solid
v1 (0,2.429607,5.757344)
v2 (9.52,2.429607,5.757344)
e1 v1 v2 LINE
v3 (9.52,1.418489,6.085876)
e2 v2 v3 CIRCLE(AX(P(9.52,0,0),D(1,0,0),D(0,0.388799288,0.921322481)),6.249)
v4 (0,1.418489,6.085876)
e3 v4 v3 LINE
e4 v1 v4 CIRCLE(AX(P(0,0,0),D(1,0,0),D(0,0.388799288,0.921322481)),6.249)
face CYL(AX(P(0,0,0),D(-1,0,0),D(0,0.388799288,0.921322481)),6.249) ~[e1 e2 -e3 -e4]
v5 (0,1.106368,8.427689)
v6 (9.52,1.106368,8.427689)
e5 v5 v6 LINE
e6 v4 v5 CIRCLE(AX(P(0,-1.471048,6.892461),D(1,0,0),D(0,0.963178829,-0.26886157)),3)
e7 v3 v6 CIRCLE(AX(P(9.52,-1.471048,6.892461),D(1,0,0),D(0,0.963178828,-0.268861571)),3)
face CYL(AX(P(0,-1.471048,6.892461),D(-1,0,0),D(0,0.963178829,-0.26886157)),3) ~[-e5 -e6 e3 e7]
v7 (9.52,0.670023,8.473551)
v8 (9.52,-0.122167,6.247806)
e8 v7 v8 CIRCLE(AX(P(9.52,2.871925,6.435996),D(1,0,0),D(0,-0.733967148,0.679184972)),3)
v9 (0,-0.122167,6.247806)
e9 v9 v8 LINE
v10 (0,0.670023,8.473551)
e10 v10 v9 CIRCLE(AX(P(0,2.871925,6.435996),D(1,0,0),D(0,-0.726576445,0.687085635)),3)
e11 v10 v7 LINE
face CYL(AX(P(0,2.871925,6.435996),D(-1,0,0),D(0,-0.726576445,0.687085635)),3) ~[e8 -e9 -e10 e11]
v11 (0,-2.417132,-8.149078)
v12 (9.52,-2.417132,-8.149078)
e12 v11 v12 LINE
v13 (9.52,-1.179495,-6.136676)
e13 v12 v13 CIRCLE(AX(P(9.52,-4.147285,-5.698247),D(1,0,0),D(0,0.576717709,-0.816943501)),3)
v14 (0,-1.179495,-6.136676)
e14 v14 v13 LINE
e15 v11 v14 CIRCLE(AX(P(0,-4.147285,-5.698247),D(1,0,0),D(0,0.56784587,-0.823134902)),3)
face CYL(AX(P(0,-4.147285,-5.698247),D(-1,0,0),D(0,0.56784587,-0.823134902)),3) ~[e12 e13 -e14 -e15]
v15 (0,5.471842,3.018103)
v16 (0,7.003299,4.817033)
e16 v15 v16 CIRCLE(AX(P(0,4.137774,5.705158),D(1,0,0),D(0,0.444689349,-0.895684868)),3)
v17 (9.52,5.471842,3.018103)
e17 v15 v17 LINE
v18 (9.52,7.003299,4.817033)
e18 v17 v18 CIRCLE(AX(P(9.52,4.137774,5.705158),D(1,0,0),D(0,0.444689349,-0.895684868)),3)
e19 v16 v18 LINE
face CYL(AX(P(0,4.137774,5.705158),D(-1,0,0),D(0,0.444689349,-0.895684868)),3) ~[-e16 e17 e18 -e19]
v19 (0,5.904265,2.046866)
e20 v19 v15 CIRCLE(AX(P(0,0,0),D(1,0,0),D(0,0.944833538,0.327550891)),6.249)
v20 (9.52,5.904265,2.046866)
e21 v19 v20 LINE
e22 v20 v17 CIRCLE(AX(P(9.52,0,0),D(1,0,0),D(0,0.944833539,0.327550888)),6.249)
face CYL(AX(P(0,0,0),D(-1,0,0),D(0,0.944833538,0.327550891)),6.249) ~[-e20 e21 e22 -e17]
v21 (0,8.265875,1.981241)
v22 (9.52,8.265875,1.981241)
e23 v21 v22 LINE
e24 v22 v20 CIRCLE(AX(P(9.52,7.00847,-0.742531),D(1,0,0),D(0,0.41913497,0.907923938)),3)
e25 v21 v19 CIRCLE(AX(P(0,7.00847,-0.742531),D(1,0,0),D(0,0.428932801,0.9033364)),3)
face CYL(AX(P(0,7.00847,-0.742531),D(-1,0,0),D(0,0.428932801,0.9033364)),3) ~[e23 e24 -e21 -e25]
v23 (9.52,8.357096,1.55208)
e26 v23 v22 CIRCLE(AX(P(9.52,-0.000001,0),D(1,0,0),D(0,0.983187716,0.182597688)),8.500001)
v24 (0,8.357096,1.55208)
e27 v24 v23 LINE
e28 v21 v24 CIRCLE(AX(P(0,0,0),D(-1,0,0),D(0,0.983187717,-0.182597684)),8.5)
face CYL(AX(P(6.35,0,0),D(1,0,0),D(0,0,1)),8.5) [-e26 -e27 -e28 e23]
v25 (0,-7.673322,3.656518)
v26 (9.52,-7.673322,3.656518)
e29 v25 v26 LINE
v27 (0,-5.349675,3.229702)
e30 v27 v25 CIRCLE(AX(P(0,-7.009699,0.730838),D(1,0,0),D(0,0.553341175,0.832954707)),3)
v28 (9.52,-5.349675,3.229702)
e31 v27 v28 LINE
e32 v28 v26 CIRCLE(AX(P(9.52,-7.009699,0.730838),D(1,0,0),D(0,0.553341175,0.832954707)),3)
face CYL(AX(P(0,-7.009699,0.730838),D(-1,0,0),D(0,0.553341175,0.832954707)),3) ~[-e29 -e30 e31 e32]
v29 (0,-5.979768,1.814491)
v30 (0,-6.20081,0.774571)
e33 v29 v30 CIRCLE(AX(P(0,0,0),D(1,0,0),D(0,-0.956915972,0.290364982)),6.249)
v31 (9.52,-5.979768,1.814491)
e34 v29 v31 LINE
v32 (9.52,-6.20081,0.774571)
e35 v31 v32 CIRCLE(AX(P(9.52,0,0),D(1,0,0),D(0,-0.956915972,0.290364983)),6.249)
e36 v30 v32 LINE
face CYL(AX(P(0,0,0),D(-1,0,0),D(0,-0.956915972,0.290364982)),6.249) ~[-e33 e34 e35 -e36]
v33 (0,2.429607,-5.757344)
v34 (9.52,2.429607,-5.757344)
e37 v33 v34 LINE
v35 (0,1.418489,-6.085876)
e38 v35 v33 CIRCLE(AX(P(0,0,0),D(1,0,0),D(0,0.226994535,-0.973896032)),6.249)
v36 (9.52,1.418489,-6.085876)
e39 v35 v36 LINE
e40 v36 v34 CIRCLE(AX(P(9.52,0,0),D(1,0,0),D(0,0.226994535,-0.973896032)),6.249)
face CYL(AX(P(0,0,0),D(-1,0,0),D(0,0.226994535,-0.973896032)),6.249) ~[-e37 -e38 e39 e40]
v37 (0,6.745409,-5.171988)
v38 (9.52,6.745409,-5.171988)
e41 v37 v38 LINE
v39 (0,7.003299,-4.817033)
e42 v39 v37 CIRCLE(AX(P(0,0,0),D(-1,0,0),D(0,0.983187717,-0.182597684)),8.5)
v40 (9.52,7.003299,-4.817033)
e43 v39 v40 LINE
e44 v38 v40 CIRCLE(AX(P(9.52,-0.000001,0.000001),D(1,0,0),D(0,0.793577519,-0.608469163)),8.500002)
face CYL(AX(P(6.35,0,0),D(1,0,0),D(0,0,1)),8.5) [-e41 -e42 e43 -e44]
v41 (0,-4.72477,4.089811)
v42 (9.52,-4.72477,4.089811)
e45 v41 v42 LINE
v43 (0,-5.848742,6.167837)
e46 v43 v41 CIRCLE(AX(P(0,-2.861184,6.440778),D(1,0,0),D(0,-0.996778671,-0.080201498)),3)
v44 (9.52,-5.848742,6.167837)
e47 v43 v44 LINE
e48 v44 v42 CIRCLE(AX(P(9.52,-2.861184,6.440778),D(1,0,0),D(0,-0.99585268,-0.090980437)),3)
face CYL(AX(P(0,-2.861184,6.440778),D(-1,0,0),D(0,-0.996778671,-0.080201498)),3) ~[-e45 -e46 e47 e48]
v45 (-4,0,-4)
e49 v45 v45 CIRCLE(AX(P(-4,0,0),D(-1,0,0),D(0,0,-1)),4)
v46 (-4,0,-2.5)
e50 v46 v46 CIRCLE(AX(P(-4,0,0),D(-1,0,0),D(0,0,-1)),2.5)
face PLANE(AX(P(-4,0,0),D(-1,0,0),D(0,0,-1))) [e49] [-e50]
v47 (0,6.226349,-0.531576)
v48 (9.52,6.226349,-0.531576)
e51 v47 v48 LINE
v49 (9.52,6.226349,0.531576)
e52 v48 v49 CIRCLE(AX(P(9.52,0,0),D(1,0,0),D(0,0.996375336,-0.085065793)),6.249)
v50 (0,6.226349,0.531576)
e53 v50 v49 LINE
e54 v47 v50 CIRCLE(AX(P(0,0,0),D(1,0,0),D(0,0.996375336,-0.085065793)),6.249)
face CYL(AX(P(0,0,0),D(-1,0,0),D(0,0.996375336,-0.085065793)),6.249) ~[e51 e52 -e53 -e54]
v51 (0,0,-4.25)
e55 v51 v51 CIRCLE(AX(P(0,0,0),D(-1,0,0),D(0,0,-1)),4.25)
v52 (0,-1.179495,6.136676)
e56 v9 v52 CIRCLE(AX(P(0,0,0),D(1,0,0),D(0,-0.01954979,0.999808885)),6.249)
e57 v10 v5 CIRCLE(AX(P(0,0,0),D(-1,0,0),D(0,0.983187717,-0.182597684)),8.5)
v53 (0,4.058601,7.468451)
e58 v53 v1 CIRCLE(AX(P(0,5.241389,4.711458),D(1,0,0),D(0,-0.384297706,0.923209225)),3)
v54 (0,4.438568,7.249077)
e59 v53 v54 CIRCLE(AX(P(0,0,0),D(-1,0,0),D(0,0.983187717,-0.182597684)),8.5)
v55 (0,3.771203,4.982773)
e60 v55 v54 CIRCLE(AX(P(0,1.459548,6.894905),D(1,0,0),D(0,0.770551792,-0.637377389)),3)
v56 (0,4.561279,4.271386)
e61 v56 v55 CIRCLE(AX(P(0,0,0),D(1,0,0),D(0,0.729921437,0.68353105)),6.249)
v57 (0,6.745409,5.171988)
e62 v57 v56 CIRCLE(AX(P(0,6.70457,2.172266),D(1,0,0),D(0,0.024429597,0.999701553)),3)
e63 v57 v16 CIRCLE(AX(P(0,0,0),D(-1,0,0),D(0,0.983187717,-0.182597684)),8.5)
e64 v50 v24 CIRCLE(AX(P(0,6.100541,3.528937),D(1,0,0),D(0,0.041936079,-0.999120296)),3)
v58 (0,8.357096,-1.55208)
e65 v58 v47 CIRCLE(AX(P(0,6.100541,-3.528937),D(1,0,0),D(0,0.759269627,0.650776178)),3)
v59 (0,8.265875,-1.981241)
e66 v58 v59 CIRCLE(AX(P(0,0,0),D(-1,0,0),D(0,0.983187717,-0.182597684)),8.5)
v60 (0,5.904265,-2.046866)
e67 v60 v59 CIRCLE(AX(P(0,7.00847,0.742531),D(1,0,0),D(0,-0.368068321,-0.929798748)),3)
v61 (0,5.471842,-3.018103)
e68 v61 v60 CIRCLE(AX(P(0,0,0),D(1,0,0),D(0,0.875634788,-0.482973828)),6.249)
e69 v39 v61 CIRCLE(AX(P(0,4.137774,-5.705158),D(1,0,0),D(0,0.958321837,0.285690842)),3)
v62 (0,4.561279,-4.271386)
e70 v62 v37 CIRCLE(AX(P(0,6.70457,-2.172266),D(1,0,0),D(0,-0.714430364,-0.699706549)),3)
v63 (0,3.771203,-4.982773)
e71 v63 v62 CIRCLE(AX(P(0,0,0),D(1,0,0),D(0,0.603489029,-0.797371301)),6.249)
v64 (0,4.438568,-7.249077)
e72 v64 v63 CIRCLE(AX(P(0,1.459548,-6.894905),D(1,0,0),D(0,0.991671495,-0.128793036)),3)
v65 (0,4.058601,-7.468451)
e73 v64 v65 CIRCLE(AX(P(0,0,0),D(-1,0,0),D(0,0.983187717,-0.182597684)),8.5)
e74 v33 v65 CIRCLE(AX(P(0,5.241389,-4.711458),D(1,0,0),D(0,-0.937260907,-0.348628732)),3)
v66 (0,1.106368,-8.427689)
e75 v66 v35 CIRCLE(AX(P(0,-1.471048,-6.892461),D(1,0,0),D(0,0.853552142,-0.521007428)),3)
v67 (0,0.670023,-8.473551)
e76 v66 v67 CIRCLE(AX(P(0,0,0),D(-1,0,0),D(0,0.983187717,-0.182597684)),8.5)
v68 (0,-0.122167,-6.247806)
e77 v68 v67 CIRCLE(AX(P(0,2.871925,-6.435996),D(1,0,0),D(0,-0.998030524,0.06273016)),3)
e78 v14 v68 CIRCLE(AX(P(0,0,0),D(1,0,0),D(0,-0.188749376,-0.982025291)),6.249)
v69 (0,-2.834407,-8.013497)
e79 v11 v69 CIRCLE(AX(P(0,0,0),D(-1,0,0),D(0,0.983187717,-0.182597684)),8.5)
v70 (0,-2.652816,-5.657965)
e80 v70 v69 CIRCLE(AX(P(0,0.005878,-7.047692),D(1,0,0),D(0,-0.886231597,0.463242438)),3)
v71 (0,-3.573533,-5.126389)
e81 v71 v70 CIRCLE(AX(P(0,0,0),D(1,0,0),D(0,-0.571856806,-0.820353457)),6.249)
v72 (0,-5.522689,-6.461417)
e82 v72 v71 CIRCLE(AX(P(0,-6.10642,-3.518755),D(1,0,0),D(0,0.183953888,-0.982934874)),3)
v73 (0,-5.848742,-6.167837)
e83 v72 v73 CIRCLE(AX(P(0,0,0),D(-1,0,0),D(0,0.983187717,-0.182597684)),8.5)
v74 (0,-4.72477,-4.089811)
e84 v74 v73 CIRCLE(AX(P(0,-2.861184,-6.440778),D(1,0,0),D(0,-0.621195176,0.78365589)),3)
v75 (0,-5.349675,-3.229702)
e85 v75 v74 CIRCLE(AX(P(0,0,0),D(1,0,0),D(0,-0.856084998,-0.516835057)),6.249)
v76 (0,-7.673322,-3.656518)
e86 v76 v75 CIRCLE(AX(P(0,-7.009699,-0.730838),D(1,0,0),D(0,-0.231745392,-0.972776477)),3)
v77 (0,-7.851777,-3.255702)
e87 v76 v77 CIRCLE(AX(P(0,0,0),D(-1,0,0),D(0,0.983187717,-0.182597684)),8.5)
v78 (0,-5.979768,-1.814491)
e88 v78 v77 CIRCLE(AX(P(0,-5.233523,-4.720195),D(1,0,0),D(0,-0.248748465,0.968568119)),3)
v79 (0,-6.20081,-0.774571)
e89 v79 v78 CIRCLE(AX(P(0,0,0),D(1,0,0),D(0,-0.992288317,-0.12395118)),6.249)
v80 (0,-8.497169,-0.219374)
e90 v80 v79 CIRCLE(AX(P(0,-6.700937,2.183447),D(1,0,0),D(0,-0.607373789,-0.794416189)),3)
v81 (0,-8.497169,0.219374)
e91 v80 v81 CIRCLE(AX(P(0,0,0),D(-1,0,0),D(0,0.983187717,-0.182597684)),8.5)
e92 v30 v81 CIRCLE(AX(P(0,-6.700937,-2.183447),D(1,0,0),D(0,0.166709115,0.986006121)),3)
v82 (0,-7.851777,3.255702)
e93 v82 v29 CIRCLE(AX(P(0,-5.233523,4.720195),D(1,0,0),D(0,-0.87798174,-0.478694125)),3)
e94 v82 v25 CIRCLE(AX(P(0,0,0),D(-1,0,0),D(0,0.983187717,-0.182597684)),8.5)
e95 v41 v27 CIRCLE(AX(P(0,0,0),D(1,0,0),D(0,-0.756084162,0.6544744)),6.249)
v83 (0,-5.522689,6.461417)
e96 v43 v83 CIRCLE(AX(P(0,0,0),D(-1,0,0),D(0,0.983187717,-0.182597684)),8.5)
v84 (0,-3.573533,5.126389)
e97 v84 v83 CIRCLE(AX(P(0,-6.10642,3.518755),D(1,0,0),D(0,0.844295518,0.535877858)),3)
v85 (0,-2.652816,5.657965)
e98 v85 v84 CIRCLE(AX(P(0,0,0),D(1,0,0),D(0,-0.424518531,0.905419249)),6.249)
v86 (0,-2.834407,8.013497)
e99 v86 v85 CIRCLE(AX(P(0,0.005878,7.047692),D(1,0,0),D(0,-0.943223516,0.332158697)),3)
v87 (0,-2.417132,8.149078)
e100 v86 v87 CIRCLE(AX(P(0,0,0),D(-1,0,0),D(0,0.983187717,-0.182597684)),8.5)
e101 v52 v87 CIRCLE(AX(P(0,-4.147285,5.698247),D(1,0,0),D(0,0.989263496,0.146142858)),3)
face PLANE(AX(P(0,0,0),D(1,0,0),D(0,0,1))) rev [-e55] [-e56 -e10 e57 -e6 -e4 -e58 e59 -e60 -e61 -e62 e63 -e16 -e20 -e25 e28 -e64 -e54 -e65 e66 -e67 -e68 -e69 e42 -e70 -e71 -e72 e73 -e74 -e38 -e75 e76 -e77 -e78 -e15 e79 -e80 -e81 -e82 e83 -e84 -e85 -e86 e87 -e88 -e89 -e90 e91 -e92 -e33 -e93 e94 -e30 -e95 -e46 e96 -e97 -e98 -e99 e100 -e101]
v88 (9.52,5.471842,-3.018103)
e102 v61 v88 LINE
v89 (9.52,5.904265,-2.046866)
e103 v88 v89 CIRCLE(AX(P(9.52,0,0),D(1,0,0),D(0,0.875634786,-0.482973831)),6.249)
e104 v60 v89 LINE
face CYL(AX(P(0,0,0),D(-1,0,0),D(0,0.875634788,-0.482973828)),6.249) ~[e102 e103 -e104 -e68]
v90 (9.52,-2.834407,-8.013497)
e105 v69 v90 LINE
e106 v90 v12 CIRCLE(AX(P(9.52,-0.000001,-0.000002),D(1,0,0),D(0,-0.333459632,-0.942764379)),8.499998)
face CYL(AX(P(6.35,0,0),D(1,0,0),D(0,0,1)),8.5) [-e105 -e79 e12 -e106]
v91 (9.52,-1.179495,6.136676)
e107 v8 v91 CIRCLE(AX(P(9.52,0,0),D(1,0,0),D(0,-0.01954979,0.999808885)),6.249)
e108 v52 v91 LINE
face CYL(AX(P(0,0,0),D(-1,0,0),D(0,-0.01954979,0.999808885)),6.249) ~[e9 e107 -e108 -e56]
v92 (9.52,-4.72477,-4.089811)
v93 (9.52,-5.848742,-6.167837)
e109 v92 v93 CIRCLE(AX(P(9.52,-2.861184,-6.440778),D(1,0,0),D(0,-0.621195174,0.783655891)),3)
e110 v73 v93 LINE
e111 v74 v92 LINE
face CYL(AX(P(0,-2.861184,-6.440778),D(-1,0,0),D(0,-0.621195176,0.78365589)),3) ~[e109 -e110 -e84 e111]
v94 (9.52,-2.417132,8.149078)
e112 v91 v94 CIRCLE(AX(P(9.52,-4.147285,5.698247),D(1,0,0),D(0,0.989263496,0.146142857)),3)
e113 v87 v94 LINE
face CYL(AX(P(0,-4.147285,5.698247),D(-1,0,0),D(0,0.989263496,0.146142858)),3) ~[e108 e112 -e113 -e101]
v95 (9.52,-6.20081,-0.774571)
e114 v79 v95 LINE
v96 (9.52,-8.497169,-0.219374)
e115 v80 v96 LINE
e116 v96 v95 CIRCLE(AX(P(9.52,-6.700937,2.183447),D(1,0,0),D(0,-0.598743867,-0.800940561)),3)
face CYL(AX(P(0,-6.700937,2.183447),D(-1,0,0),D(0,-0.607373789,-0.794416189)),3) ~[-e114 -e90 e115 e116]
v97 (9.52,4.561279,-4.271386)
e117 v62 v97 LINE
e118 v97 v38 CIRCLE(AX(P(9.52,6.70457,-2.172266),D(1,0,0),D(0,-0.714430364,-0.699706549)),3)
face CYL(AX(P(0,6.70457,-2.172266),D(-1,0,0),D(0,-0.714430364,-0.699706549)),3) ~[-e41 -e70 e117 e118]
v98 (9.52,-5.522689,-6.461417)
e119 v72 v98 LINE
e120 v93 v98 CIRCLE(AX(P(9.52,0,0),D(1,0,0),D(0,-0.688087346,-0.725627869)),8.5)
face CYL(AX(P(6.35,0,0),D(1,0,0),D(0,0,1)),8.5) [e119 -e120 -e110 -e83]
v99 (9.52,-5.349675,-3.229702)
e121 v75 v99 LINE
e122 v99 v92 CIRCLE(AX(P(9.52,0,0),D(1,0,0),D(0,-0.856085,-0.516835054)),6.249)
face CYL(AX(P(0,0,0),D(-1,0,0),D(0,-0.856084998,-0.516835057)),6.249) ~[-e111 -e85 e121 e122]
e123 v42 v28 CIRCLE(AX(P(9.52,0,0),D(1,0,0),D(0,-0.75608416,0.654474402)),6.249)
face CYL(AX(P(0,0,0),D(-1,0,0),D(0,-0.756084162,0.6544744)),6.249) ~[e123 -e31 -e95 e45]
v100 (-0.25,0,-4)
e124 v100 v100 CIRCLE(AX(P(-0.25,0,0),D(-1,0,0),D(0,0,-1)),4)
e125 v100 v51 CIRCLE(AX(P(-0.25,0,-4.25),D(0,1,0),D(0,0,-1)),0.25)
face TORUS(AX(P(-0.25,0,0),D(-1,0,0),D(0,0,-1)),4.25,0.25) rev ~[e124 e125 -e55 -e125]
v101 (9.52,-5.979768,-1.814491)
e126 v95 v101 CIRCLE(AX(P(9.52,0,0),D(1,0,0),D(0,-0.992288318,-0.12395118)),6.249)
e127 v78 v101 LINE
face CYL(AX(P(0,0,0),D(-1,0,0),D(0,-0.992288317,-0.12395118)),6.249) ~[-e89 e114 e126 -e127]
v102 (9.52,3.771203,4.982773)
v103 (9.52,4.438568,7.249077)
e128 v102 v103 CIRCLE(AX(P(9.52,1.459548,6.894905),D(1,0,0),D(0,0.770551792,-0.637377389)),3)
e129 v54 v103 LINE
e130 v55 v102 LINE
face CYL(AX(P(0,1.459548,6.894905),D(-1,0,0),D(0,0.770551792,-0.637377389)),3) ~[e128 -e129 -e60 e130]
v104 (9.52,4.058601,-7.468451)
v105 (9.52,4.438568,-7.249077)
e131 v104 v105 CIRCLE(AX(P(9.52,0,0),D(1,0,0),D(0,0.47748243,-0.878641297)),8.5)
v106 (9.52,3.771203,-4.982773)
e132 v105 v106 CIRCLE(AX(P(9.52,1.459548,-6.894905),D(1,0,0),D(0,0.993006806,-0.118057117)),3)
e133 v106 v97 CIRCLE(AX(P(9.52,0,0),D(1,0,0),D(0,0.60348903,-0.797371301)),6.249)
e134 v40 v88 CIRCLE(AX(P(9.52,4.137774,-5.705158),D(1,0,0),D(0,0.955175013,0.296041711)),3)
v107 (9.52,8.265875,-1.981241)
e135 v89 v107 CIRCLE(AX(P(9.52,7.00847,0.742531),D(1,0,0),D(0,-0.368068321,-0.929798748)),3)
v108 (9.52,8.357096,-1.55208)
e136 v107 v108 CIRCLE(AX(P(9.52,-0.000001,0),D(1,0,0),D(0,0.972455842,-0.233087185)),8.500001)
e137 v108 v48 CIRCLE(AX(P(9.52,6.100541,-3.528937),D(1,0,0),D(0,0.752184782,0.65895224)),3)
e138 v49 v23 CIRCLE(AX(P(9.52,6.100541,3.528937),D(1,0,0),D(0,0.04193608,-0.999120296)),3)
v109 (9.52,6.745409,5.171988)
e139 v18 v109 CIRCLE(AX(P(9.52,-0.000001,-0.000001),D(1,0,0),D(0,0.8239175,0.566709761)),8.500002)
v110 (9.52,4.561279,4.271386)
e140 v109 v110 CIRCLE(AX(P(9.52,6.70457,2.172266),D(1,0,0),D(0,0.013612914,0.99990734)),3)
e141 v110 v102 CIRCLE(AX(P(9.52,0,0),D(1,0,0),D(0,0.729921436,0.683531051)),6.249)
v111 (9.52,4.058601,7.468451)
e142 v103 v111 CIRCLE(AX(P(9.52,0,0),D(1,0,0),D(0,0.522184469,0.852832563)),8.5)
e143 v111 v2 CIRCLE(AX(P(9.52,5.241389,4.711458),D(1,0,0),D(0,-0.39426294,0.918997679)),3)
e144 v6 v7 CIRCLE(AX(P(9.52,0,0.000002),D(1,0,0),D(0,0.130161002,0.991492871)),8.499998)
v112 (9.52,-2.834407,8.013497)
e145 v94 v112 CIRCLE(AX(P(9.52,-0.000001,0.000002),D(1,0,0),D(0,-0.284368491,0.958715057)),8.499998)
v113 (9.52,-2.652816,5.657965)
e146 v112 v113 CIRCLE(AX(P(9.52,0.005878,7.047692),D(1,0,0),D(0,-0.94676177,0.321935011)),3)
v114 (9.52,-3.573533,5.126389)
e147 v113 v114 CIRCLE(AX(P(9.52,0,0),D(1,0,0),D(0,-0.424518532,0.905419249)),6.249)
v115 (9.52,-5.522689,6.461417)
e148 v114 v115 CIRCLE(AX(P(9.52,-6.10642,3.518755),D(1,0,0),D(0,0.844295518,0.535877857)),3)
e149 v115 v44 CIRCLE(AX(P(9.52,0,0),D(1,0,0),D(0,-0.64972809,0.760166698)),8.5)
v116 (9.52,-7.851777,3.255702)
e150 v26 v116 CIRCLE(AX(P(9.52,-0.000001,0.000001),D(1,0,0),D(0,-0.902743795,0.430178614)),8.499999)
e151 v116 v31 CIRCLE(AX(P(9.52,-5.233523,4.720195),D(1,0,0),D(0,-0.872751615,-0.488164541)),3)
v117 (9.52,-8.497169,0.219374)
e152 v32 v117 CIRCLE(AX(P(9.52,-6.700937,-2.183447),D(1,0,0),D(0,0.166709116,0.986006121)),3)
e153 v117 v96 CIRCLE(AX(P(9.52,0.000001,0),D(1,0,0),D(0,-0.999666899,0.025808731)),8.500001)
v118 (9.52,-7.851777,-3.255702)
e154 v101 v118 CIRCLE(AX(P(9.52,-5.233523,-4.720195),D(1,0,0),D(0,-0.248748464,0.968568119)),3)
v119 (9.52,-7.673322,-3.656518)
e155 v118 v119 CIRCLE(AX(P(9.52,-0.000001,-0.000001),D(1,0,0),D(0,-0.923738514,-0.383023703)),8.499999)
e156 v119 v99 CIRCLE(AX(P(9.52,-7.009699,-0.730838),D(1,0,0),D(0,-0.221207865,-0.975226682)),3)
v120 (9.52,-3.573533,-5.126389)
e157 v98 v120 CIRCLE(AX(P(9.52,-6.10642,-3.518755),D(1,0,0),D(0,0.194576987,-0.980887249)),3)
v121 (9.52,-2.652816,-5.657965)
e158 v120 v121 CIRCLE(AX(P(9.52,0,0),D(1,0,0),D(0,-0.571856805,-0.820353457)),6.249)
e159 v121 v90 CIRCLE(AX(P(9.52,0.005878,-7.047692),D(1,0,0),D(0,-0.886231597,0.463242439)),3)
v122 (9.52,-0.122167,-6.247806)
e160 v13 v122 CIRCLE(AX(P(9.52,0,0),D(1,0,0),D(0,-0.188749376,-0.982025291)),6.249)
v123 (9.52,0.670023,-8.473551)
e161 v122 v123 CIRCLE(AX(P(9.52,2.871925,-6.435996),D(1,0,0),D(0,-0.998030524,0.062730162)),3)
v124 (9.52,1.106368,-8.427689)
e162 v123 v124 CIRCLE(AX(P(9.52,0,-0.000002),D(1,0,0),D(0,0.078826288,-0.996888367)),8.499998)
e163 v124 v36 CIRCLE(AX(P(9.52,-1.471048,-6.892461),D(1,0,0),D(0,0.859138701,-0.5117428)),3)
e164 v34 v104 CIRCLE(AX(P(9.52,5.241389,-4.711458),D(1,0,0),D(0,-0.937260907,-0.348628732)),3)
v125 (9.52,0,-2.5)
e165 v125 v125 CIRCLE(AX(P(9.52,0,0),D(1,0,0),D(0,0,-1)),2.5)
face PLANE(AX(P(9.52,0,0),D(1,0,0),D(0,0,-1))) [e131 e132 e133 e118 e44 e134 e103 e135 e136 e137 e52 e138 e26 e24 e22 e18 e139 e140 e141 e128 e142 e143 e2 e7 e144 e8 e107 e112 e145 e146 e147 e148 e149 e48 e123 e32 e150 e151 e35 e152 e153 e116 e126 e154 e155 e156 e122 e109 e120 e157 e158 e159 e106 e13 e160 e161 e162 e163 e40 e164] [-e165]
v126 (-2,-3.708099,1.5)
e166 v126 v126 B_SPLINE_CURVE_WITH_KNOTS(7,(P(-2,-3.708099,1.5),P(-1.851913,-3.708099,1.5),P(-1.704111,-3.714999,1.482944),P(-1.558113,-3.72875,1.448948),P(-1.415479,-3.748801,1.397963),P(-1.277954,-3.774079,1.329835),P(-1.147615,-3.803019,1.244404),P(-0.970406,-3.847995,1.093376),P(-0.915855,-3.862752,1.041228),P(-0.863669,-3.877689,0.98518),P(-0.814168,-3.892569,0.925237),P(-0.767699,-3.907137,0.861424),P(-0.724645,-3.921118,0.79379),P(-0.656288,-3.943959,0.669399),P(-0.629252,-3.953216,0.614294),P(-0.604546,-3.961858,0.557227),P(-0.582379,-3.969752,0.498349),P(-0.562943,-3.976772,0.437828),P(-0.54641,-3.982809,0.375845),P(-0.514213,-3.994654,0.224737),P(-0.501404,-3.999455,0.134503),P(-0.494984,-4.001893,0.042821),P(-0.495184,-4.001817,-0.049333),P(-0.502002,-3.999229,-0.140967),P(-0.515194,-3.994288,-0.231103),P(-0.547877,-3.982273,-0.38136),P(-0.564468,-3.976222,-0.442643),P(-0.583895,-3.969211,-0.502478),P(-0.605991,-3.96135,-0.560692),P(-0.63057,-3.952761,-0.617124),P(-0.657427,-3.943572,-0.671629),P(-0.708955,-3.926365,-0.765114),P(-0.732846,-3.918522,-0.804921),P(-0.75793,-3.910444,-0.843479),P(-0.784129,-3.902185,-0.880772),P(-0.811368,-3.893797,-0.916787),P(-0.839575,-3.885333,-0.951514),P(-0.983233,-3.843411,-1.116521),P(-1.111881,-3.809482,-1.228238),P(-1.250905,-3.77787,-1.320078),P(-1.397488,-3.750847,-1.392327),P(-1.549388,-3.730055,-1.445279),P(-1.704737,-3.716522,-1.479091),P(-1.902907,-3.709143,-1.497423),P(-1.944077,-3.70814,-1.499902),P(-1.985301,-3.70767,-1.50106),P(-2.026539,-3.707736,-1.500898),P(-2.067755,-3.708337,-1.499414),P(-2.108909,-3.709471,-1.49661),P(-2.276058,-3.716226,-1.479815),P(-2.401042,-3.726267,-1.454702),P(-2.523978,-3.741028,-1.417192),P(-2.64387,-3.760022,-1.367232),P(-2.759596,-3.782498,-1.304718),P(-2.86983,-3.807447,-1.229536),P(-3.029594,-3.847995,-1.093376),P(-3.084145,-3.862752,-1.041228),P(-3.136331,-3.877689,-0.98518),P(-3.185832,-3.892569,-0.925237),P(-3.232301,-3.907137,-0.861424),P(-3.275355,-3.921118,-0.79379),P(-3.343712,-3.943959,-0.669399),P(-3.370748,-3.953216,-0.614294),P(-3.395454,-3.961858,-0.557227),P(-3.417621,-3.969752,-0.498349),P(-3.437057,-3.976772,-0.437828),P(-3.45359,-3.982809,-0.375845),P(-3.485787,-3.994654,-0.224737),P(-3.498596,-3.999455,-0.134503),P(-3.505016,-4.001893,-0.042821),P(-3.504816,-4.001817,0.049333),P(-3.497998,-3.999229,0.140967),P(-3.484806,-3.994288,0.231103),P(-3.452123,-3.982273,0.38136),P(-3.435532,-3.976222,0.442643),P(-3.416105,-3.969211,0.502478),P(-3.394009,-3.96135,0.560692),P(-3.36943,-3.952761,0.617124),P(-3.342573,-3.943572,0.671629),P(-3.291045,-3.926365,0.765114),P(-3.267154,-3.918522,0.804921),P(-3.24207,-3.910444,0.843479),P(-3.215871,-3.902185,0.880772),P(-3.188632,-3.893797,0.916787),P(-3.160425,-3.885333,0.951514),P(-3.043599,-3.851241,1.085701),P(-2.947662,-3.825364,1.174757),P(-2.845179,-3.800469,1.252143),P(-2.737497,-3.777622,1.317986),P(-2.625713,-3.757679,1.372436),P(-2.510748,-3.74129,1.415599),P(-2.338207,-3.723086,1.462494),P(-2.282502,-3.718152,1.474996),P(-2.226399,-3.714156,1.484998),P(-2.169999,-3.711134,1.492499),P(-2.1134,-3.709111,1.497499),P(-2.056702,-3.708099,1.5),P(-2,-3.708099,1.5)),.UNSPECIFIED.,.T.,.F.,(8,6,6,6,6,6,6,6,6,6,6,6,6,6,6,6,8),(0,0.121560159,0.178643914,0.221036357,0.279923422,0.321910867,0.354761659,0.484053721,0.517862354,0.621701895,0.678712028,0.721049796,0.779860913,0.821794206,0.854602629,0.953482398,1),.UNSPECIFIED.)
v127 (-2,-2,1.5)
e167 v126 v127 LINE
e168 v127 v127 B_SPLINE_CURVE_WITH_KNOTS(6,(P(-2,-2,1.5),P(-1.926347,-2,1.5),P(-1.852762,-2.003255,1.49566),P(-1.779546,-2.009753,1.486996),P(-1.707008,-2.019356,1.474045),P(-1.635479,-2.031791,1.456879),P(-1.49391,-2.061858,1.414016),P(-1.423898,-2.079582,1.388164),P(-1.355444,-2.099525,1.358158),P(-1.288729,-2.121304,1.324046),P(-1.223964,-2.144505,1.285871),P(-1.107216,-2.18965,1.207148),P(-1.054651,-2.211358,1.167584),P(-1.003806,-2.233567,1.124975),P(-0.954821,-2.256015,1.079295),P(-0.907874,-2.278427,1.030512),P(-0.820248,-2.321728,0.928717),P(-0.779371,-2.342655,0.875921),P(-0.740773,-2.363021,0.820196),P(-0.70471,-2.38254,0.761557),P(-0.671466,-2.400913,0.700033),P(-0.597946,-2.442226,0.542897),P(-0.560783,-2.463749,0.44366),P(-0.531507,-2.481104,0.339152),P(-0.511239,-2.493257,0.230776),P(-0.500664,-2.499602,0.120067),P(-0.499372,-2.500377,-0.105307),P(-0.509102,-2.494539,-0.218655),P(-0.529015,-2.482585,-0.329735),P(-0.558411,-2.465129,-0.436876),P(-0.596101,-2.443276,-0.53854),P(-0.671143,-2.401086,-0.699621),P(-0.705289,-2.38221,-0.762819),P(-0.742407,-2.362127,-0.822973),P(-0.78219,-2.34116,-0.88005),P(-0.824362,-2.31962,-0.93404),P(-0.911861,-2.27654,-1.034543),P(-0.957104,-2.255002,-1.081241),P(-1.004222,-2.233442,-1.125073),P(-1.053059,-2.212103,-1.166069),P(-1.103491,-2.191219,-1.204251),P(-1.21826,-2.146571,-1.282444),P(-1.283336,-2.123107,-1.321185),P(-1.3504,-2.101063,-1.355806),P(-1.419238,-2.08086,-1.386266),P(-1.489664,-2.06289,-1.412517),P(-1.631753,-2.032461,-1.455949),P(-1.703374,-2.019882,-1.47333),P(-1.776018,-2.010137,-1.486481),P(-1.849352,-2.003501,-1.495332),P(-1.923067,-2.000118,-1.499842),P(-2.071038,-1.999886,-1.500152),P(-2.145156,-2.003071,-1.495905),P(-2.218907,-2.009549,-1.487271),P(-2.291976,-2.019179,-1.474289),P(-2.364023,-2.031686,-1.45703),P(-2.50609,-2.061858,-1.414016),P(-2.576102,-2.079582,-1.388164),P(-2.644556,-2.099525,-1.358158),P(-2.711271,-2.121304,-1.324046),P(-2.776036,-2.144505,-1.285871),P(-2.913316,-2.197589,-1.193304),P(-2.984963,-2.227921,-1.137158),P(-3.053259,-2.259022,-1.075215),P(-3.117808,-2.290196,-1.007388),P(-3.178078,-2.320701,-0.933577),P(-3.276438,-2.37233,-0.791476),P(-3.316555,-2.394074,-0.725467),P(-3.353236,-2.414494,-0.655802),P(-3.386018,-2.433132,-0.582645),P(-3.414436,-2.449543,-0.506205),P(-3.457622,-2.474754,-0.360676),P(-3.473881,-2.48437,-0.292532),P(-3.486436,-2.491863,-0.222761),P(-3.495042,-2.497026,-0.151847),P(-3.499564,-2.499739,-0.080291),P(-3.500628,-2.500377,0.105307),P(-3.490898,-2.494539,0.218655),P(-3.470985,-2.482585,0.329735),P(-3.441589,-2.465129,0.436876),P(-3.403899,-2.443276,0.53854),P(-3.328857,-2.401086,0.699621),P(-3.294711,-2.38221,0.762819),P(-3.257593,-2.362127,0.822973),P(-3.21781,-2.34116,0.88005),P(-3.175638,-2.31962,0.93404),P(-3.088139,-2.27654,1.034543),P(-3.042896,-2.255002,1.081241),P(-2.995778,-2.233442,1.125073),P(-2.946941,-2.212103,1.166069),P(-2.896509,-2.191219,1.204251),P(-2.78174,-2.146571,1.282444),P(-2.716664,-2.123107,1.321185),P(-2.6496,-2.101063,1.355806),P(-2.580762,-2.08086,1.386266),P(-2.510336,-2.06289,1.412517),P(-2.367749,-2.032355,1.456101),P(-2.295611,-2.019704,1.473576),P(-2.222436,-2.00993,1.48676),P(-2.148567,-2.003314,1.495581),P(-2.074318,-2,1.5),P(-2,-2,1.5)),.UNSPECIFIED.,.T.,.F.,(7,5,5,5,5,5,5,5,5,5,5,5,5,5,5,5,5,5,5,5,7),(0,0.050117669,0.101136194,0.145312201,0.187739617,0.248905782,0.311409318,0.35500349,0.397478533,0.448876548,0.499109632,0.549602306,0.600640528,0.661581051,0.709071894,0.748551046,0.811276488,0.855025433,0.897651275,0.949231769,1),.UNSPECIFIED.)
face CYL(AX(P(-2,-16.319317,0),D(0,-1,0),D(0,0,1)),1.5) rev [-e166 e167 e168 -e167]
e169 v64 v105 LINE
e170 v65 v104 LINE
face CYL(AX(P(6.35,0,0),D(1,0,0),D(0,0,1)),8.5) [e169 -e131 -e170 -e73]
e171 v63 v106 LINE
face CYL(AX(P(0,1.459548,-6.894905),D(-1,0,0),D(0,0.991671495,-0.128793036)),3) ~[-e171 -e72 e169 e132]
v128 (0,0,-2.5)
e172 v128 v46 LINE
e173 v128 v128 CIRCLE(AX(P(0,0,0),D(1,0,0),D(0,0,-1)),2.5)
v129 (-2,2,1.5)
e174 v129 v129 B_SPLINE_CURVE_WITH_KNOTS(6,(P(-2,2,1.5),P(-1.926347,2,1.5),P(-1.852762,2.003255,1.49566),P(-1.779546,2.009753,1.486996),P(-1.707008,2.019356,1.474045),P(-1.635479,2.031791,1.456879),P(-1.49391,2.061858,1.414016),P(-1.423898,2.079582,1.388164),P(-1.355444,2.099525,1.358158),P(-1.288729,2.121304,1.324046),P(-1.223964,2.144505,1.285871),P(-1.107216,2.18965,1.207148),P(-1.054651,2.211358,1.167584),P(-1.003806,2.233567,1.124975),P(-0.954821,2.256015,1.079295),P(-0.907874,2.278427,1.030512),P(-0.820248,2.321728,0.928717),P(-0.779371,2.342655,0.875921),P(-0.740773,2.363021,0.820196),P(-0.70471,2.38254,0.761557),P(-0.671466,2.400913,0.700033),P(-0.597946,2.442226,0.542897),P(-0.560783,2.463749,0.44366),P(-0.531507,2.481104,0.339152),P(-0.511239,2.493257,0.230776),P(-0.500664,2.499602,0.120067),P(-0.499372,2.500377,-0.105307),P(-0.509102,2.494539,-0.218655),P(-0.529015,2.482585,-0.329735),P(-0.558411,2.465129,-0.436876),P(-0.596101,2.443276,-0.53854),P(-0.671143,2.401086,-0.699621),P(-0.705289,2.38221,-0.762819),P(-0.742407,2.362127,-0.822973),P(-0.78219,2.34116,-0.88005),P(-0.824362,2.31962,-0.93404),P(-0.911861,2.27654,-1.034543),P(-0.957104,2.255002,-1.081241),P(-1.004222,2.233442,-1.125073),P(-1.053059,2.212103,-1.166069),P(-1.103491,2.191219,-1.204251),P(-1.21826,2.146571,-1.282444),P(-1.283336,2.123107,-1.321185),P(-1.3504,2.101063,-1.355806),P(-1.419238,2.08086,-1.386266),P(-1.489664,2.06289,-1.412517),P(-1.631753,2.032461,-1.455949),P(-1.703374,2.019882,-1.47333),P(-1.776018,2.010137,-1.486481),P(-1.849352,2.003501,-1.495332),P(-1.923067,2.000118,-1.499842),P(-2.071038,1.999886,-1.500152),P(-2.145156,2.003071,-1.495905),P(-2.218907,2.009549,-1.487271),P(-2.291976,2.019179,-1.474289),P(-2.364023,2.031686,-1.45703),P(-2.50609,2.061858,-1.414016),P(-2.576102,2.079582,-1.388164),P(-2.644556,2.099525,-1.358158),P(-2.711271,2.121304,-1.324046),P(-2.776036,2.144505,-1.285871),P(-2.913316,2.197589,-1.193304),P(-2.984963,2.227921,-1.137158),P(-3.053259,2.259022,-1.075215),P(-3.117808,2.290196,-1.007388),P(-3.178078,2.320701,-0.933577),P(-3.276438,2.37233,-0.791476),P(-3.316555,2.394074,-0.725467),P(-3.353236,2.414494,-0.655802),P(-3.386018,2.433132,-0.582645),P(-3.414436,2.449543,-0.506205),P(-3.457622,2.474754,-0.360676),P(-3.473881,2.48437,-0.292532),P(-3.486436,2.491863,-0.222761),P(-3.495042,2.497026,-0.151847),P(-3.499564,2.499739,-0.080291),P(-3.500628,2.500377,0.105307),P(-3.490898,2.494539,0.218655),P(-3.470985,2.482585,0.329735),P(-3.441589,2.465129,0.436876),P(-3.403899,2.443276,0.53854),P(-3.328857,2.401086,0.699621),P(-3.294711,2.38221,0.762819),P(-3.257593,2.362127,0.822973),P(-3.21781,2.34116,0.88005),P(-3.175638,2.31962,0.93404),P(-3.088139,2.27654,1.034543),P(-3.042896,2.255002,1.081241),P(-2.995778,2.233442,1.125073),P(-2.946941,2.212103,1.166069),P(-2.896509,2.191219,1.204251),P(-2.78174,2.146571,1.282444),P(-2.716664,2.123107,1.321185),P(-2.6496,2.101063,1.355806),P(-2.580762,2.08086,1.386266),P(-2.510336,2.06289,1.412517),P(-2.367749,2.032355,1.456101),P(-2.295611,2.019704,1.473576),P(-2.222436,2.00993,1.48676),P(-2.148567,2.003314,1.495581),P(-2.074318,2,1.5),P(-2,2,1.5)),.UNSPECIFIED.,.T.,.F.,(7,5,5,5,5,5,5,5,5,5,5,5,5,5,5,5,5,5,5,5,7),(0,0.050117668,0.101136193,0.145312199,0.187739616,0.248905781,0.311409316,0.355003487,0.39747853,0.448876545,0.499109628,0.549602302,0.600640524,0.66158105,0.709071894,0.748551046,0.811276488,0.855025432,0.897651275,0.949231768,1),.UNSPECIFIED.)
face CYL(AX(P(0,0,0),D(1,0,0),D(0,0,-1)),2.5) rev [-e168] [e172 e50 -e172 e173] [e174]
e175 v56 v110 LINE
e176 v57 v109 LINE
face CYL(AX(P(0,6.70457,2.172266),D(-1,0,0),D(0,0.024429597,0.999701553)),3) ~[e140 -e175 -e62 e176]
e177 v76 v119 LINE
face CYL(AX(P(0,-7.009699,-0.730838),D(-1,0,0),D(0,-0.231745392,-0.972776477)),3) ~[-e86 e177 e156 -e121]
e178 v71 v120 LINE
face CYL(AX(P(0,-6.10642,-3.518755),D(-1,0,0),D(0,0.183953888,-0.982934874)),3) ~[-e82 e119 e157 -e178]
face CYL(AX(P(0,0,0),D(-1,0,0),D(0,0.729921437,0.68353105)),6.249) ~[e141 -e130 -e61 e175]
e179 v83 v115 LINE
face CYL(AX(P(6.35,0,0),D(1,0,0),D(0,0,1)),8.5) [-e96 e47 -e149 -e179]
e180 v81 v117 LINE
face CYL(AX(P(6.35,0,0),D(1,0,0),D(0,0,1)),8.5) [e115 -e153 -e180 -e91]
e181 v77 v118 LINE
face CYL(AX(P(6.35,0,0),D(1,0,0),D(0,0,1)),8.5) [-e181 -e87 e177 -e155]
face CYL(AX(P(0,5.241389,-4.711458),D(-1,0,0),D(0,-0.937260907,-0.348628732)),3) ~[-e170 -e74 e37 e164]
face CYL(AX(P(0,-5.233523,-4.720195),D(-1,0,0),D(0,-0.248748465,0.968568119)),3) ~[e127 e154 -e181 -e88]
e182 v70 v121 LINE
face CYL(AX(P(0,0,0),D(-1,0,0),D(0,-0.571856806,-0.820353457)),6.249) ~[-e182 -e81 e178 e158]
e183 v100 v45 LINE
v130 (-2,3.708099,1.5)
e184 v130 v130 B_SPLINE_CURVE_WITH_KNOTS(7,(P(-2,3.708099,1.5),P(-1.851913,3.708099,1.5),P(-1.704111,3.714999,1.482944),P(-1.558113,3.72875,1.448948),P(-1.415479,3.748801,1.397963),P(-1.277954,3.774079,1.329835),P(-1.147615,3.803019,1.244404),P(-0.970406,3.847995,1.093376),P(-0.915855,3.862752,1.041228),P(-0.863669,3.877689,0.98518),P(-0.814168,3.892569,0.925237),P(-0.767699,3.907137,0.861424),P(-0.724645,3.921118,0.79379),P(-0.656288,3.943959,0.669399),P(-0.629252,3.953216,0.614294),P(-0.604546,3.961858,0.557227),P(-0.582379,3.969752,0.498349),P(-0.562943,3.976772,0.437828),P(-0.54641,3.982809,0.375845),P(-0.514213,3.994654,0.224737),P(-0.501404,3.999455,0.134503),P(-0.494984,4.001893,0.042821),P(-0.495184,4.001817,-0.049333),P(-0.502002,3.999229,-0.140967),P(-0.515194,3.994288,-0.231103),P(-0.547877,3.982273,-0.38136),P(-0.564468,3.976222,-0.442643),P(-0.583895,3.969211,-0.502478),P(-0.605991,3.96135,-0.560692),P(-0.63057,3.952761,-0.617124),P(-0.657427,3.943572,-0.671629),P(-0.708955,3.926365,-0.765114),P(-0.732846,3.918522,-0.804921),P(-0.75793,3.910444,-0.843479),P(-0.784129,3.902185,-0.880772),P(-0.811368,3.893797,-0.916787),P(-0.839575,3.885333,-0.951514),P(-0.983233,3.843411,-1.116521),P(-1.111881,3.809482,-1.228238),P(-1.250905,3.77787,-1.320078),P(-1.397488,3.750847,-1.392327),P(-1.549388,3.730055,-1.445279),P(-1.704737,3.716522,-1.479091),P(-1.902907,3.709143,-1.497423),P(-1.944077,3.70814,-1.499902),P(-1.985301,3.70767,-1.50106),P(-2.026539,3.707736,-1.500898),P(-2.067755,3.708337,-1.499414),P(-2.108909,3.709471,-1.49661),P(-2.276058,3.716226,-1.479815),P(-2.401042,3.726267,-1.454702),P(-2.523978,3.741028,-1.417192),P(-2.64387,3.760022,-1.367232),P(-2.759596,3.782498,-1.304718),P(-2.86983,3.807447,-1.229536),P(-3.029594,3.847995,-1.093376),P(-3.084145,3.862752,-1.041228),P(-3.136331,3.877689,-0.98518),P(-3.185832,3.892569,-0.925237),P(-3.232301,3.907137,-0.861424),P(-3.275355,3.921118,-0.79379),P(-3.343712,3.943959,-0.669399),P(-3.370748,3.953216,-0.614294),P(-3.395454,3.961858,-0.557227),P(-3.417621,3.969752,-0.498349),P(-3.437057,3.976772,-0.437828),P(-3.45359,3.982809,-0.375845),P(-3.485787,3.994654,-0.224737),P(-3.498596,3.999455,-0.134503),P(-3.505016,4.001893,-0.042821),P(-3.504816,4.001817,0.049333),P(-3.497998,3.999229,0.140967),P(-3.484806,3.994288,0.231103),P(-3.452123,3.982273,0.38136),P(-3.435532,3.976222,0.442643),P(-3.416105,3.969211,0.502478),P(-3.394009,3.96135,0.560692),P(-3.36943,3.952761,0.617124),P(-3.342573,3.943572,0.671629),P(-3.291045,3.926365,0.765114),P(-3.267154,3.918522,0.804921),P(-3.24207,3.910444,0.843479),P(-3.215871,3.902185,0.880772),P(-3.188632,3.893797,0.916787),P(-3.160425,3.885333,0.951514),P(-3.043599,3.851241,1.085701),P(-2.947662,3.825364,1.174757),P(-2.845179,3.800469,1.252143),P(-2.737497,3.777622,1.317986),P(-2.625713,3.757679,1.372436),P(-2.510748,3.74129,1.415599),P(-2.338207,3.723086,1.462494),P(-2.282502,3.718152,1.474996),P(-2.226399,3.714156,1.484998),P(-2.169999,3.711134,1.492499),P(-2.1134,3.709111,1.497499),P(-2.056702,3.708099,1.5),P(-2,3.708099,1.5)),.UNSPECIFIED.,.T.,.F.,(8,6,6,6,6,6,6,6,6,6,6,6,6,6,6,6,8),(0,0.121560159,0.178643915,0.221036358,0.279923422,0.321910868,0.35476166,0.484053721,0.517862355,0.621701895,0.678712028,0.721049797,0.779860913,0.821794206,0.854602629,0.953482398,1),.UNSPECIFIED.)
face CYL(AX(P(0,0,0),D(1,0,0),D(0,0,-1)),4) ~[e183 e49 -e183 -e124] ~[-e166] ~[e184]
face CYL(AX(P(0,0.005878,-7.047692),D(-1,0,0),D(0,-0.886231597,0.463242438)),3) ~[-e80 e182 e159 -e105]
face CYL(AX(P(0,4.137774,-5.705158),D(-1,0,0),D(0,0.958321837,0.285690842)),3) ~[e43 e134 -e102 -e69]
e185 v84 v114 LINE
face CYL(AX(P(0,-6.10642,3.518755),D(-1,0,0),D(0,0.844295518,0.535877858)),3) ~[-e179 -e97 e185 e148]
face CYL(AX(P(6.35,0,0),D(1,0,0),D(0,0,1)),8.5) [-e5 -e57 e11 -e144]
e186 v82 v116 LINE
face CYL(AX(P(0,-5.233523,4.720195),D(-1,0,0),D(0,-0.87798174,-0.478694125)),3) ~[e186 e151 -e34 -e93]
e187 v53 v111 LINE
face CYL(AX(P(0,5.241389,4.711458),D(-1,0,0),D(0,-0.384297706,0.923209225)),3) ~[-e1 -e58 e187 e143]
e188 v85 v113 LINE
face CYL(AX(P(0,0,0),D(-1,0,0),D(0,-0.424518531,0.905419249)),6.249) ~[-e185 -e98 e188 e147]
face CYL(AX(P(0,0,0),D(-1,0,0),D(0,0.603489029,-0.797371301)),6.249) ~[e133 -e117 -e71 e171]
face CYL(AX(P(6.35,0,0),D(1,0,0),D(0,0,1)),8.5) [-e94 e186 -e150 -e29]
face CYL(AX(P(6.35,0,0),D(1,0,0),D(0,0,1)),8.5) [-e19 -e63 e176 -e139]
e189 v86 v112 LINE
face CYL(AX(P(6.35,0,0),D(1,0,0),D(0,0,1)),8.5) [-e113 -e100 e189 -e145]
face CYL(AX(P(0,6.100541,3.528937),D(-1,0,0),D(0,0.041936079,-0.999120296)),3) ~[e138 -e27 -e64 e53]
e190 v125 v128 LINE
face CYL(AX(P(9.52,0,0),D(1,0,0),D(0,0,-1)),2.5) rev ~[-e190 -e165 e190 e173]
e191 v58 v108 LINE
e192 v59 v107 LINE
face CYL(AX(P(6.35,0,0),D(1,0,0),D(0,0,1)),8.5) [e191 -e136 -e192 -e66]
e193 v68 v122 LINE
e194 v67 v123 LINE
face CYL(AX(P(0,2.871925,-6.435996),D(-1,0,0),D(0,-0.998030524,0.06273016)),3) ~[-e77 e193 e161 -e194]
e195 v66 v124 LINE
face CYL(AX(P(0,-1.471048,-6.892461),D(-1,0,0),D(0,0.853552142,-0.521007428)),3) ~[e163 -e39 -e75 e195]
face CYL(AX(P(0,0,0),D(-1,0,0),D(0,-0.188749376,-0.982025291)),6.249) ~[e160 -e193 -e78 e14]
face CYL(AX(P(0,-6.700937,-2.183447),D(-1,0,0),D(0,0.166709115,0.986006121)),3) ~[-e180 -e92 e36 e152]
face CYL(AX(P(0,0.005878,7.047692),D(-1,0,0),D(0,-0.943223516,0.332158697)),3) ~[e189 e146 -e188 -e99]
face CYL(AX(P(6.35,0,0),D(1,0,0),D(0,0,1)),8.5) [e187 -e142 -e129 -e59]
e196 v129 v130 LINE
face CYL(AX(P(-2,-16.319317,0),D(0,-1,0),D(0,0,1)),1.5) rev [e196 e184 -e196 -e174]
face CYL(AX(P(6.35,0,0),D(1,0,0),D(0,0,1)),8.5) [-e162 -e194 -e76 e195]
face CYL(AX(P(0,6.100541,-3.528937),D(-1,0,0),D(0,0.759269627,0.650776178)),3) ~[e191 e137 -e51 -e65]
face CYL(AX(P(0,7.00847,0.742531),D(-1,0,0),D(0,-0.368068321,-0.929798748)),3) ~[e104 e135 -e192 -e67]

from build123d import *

# Parameters (mm, degrees)
BASPROSKE_W                = 12.7
BASPROSKE_H                = 8.5
TOOTHCUT_DEPTH             = 18.486852204
TEETHCUTS_COUNT            = 15
TEETHCUTS_ANGLE            = 336
BORSKE_R                   = 0.4
BORE_DEPTH                 = 50.0000508
CORTAR_EXTRUIR1_START      = -3.18
CORTAR_EXTRUIR1_DEPTH      = 3.18
CROQUIS4_R                 = 2.5
CORTAR_EXTRUIR2_DEPTH      = 9.52
CROQUIS5_R                 = 4
CROQUIS5_R_2               = 2.5
SALIENTE_EXTRUIR1_DEPTH    = 4
CORTAR_EXTRUIR3_DEPTH      = 16.319316842
CORTAR_EXTRUIR3_DEPTH_BACK = 16.319316842
CROQUIS6_R                 = 1.5
REDONDEO2_R                = 0.25


with BuildPart() as part:
    # BasProSke → Base-Revolve (revolve)
    with BuildSketch(Plane(origin=(0, 0, 0), x_dir=(1, 0, 0), z_dir=(0, 1, 0)), mode=Mode.PRIVATE) as base_revolve_sk:
        with Locations((6.35, 4.25)):
            Rectangle(BASPROSKE_W, BASPROSKE_H)
    revolve(base_revolve_sk.sketch.rotate(Axis((-10, 0, 0), (1, 0, 0)), 180), axis=Axis((-10, 0, 0), (1, 0, 0)))

    # TooCutSke → ToothCut (cut, through all)
    with BuildSketch(Plane(origin=(0, 0, 0), x_dir=(0, 0, -1), z_dir=(1, 0, 0))):
        with BuildLine():
            ThreePointArc((0.531576138, 6.226349477), (0, 6.249), (-0.531576138, 6.226349477))
            ThreePointArc((-0.531576138, 6.226349477), (-0.830301624, 7.411024729), (-1.576608494, 8.378350125))
            ThreePointArc((-1.576608494, 8.378350125), (0, 8.5254), (1.576608494, 8.378350125))
            ThreePointArc((1.576608494, 8.378350125), (0.830301624, 7.411024729), (0.531576138, 6.226349477))
        make_face()
    toothcut = extrude(amount=TOOTHCUT_DEPTH, mode=Mode.SUBTRACT)

    # TeethCuts: ToothCut ×15 about axis
    teethcuts_axis = Axis((-10, 0, 0), (1, 0, 0))
    for i in range(1, TEETHCUTS_COUNT):
        add(toothcut.rotate(teethcuts_axis, i * TEETHCUTS_ANGLE / (TEETHCUTS_COUNT - 1)), mode=Mode.SUBTRACT)

    # BorSke → Bore (cut, symmetric)
    with BuildSketch(Plane(origin=(0, 0, 0), x_dir=(0, 0, -1), z_dir=(1, 0, 0))):
        with Locations(Location((0, 0, 0), (0, 0, 180))):
            Circle(BORSKE_R)
    extrude(amount=BORE_DEPTH, both=True, mode=Mode.SUBTRACT)

    # Croquis2 → Cortar-Extruir1 (cut)
    with BuildSketch(Plane(origin=(12.7, 0, 0), x_dir=(0, 0, -1), z_dir=(1, 0, 0)).offset(CORTAR_EXTRUIR1_START)):
        with BuildLine():
            ThreePointArc((-8.473551116, 0.670023493), (-7.441942771, 0.04560728), (-6.24780572, -0.122166634))
            ThreePointArc((-6.24780572, -0.122166634), (-6.214767324, -0.653198367), (-6.136676046, -1.179494851))
            ThreePointArc((-6.136676046, -1.179494851), (-7.26983618, -1.591877556), (-8.149077977, -2.417132211))
            ThreePointArc((-8.149077977, -2.417132211), (-8.083980389, -2.626644452), (-8.013497238, -2.834406818))
            ThreePointArc((-8.013497238, -2.834406818), (-6.817103167, -2.985246497), (-5.657964889, -2.652816299))
            ThreePointArc((-5.657964889, -2.652816299), (-5.411792748, -3.1245), (-5.126388751, -3.573533178))
            ThreePointArc((-5.126388751, -3.573533178), (-5.993850886, -4.411161274), (-6.461416928, -5.522688773))
            ThreePointArc((-6.461416928, -5.522688773), (-6.316731017, -5.687610154), (-6.167836888, -5.84874244))
            ThreePointArc((-6.167836888, -5.84874244), (-5.013524493, -5.499924035), (-4.089810528, -4.724769925))
            ThreePointArc((-4.089810528, -4.724769925), (-3.673070042, -5.055547198), (-3.229702268, -5.349675154))
            ThreePointArc((-3.229702268, -5.349675154), (-3.681474322, -6.467715134), (-3.656518192, -7.673322273))
            ThreePointArc((-3.656518192, -7.673322273), (-3.457261466, -7.76513639), (-3.255701506, -7.851777359))
            ThreePointArc((-3.255701506, -7.851777359), (-2.343061889, -7.063614742), (-1.814490772, -5.979767908))
            ThreePointArc((-1.814490772, -5.979767908), (-1.299240156, -6.112444357), (-0.774570923, -6.200809696))
            ThreePointArc((-0.774570923, -6.200809696), (-0.732537403, -7.405942289), (-0.219374243, -8.497168643))
            ThreePointArc((-0.219374243, -8.497168643), (0, -8.5), (0.219374243, -8.497168643))
            ThreePointArc((0.219374243, -8.497168643), (0.732537403, -7.405942289), (0.774570923, -6.200809696))
            ThreePointArc((0.774570923, -6.200809696), (1.299240156, -6.112444357), (1.814490772, -5.979767908))
            ThreePointArc((1.814490772, -5.979767908), (2.343061889, -7.063614742), (3.255701506, -7.851777359))
            ThreePointArc((3.255701506, -7.851777359), (3.457261466, -7.76513639), (3.656518192, -7.673322273))
            ThreePointArc((3.656518192, -7.673322273), (3.681474322, -6.467715134), (3.229702268, -5.349675154))
            ThreePointArc((3.229702268, -5.349675154), (3.673070042, -5.055547198), (4.089810528, -4.724769925))
            ThreePointArc((4.089810528, -4.724769925), (5.013524493, -5.499924035), (6.167836888, -5.84874244))
            ThreePointArc((6.167836888, -5.84874244), (6.316731017, -5.687610154), (6.461416928, -5.522688773))
            ThreePointArc((6.461416928, -5.522688773), (5.993850886, -4.411161274), (5.126388751, -3.573533178))
            ThreePointArc((5.126388751, -3.573533178), (5.411792748, -3.1245), (5.657964889, -2.652816299))
            ThreePointArc((5.657964889, -2.652816299), (6.817103167, -2.985246497), (8.013497238, -2.834406818))
            ThreePointArc((8.013497238, -2.834406818), (8.083980389, -2.626644452), (8.149077977, -2.417132211))
            ThreePointArc((8.149077977, -2.417132211), (7.26983618, -1.591877556), (6.136676046, -1.179494851))
            ThreePointArc((6.136676046, -1.179494851), (6.214767324, -0.653198367), (6.24780572, -0.122166634))
            ThreePointArc((6.24780572, -0.122166634), (7.441942771, 0.04560728), (8.473551116, 0.670023493))
            ThreePointArc((8.473551116, 0.670023493), (8.453436111, 0.888491938), (8.427689411, 1.106368468))
            ThreePointArc((8.427689411, 1.106368468), (7.288800753, 1.502656253), (6.085876303, 1.418488851))
            ThreePointArc((6.085876303, 1.418488851), (5.94315217, 1.931047198), (5.757344182, 2.429606752))
            ThreePointArc((5.757344182, 2.429606752), (6.780002862, 3.068575145), (7.468451026, 4.058600654))
            ThreePointArc((7.468451026, 4.058600654), (7.361215932, 4.25), (7.249076783, 4.438567989))
            ThreePointArc((7.249076783, 4.438567989), (6.04746546, 4.337367144), (4.982773259, 3.771202944))
            ThreePointArc((4.982773259, 3.771202944), (4.643912014, 4.181397159), (4.271385532, 4.561279057))
            ThreePointArc((4.271385532, 4.561279057), (4.945738865, 5.560958489), (5.171987905, 6.745408891))
            ThreePointArc((5.171987905, 6.745408891), (4.996174644, 6.876644452), (4.817032924, 7.003298781))
            ThreePointArc((4.817032924, 7.003298781), (3.760468449, 6.422107853), (3.018103451, 5.471841788))
            ThreePointArc((3.018103451, 5.471841788), (2.541697283, 5.708745565), (2.046865518, 5.904264776))
            ThreePointArc((2.046865518, 5.904264776), (2.256311686, 7.091801591), (1.981241089, 8.265874651))
            ThreePointArc((1.981241089, 8.265874651), (1.767249372, 8.314254606), (1.55208031, 8.357095591))
            ThreePointArc((1.55208031, 8.357095591), (0.823252281, 7.396407771), (0.531576138, 6.226349477))
            ThreePointArc((0.531576138, 6.226349477), (0, 6.249), (-0.531576138, 6.226349477))
            ThreePointArc((-0.531576138, 6.226349477), (-0.823252281, 7.396407771), (-1.55208031, 8.357095591))
            ThreePointArc((-1.55208031, 8.357095591), (-1.767249372, 8.314254606), (-1.981241089, 8.265874651))
            ThreePointArc((-1.981241089, 8.265874651), (-2.256311686, 7.091801591), (-2.046865518, 5.904264776))
            ThreePointArc((-2.046865518, 5.904264776), (-2.541697283, 5.708745565), (-3.018103451, 5.471841788))
            ThreePointArc((-3.018103451, 5.471841788), (-3.760468449, 6.422107853), (-4.817032924, 7.003298781))
            ThreePointArc((-4.817032924, 7.003298781), (-4.996174644, 6.876644452), (-5.171987905, 6.745408891))
            ThreePointArc((-5.171987905, 6.745408891), (-4.945738865, 5.560958489), (-4.271385532, 4.561279057))
            ThreePointArc((-4.271385532, 4.561279057), (-4.643912014, 4.181397159), (-4.982773259, 3.771202944))
            ThreePointArc((-4.982773259, 3.771202944), (-6.04746546, 4.337367144), (-7.249076783, 4.438567989))
            ThreePointArc((-7.249076783, 4.438567989), (-7.361215932, 4.25), (-7.468451026, 4.058600654))
            ThreePointArc((-7.468451026, 4.058600654), (-6.780002862, 3.068575145), (-5.757344182, 2.429606752))
            ThreePointArc((-5.757344182, 2.429606752), (-5.94315217, 1.931047198), (-6.085876303, 1.418488851))
            ThreePointArc((-6.085876303, 1.418488851), (-7.288800753, 1.502656253), (-8.427689411, 1.106368468))
            ThreePointArc((-8.427689411, 1.106368468), (-8.453436111, 0.888491938), (-8.473551116, 0.670023493))
        make_face()
    extrude(amount=CORTAR_EXTRUIR1_DEPTH, mode=Mode.SUBTRACT)

    # Croquis4 → Cortar-Extruir2 (cut)
    with BuildSketch(Plane(origin=(9.52, 0, 0), x_dir=(0, 0, -1), z_dir=(1, 0, 0))):
        Circle(CROQUIS4_R)
    extrude(amount=-CORTAR_EXTRUIR2_DEPTH, mode=Mode.SUBTRACT)

    # Croquis5 → Saliente-Extruir1 (add)
    with BuildSketch(Plane.ZY):
        with Locations(Location((0, 0, 0), (0, 0, 180))):
            Circle(CROQUIS5_R)
        with Locations(Location((0, 0, 0), (0, 0, 180))):
            Circle(CROQUIS5_R_2, mode=Mode.SUBTRACT)
    extrude(amount=SALIENTE_EXTRUIR1_DEPTH)

    # Croquis6 → Cortar-Extruir3 (cut, two sides: drawn at the far end of the back side and taken through both)
    with BuildSketch(Plane(origin=(0, 0, 0), x_dir=(1, 0, 0), z_dir=(0, 1, 0)).offset(-CORTAR_EXTRUIR3_DEPTH_BACK)):
        with Locations(Location((-2, 0, 0), (0, 0, 270))):
            Circle(CROQUIS6_R)
    extrude(amount=CORTAR_EXTRUIR3_DEPTH + CORTAR_EXTRUIR3_DEPTH_BACK, mode=Mode.SUBTRACT)

    # Redondeo2
    redondeo2_edges = [part.edges().sort_by_distance(p)[0] for p in [
        (0, 0, 4),
    ]]
    fillet(redondeo2_edges, radius=REDONDEO2_R)


solid = part.part
